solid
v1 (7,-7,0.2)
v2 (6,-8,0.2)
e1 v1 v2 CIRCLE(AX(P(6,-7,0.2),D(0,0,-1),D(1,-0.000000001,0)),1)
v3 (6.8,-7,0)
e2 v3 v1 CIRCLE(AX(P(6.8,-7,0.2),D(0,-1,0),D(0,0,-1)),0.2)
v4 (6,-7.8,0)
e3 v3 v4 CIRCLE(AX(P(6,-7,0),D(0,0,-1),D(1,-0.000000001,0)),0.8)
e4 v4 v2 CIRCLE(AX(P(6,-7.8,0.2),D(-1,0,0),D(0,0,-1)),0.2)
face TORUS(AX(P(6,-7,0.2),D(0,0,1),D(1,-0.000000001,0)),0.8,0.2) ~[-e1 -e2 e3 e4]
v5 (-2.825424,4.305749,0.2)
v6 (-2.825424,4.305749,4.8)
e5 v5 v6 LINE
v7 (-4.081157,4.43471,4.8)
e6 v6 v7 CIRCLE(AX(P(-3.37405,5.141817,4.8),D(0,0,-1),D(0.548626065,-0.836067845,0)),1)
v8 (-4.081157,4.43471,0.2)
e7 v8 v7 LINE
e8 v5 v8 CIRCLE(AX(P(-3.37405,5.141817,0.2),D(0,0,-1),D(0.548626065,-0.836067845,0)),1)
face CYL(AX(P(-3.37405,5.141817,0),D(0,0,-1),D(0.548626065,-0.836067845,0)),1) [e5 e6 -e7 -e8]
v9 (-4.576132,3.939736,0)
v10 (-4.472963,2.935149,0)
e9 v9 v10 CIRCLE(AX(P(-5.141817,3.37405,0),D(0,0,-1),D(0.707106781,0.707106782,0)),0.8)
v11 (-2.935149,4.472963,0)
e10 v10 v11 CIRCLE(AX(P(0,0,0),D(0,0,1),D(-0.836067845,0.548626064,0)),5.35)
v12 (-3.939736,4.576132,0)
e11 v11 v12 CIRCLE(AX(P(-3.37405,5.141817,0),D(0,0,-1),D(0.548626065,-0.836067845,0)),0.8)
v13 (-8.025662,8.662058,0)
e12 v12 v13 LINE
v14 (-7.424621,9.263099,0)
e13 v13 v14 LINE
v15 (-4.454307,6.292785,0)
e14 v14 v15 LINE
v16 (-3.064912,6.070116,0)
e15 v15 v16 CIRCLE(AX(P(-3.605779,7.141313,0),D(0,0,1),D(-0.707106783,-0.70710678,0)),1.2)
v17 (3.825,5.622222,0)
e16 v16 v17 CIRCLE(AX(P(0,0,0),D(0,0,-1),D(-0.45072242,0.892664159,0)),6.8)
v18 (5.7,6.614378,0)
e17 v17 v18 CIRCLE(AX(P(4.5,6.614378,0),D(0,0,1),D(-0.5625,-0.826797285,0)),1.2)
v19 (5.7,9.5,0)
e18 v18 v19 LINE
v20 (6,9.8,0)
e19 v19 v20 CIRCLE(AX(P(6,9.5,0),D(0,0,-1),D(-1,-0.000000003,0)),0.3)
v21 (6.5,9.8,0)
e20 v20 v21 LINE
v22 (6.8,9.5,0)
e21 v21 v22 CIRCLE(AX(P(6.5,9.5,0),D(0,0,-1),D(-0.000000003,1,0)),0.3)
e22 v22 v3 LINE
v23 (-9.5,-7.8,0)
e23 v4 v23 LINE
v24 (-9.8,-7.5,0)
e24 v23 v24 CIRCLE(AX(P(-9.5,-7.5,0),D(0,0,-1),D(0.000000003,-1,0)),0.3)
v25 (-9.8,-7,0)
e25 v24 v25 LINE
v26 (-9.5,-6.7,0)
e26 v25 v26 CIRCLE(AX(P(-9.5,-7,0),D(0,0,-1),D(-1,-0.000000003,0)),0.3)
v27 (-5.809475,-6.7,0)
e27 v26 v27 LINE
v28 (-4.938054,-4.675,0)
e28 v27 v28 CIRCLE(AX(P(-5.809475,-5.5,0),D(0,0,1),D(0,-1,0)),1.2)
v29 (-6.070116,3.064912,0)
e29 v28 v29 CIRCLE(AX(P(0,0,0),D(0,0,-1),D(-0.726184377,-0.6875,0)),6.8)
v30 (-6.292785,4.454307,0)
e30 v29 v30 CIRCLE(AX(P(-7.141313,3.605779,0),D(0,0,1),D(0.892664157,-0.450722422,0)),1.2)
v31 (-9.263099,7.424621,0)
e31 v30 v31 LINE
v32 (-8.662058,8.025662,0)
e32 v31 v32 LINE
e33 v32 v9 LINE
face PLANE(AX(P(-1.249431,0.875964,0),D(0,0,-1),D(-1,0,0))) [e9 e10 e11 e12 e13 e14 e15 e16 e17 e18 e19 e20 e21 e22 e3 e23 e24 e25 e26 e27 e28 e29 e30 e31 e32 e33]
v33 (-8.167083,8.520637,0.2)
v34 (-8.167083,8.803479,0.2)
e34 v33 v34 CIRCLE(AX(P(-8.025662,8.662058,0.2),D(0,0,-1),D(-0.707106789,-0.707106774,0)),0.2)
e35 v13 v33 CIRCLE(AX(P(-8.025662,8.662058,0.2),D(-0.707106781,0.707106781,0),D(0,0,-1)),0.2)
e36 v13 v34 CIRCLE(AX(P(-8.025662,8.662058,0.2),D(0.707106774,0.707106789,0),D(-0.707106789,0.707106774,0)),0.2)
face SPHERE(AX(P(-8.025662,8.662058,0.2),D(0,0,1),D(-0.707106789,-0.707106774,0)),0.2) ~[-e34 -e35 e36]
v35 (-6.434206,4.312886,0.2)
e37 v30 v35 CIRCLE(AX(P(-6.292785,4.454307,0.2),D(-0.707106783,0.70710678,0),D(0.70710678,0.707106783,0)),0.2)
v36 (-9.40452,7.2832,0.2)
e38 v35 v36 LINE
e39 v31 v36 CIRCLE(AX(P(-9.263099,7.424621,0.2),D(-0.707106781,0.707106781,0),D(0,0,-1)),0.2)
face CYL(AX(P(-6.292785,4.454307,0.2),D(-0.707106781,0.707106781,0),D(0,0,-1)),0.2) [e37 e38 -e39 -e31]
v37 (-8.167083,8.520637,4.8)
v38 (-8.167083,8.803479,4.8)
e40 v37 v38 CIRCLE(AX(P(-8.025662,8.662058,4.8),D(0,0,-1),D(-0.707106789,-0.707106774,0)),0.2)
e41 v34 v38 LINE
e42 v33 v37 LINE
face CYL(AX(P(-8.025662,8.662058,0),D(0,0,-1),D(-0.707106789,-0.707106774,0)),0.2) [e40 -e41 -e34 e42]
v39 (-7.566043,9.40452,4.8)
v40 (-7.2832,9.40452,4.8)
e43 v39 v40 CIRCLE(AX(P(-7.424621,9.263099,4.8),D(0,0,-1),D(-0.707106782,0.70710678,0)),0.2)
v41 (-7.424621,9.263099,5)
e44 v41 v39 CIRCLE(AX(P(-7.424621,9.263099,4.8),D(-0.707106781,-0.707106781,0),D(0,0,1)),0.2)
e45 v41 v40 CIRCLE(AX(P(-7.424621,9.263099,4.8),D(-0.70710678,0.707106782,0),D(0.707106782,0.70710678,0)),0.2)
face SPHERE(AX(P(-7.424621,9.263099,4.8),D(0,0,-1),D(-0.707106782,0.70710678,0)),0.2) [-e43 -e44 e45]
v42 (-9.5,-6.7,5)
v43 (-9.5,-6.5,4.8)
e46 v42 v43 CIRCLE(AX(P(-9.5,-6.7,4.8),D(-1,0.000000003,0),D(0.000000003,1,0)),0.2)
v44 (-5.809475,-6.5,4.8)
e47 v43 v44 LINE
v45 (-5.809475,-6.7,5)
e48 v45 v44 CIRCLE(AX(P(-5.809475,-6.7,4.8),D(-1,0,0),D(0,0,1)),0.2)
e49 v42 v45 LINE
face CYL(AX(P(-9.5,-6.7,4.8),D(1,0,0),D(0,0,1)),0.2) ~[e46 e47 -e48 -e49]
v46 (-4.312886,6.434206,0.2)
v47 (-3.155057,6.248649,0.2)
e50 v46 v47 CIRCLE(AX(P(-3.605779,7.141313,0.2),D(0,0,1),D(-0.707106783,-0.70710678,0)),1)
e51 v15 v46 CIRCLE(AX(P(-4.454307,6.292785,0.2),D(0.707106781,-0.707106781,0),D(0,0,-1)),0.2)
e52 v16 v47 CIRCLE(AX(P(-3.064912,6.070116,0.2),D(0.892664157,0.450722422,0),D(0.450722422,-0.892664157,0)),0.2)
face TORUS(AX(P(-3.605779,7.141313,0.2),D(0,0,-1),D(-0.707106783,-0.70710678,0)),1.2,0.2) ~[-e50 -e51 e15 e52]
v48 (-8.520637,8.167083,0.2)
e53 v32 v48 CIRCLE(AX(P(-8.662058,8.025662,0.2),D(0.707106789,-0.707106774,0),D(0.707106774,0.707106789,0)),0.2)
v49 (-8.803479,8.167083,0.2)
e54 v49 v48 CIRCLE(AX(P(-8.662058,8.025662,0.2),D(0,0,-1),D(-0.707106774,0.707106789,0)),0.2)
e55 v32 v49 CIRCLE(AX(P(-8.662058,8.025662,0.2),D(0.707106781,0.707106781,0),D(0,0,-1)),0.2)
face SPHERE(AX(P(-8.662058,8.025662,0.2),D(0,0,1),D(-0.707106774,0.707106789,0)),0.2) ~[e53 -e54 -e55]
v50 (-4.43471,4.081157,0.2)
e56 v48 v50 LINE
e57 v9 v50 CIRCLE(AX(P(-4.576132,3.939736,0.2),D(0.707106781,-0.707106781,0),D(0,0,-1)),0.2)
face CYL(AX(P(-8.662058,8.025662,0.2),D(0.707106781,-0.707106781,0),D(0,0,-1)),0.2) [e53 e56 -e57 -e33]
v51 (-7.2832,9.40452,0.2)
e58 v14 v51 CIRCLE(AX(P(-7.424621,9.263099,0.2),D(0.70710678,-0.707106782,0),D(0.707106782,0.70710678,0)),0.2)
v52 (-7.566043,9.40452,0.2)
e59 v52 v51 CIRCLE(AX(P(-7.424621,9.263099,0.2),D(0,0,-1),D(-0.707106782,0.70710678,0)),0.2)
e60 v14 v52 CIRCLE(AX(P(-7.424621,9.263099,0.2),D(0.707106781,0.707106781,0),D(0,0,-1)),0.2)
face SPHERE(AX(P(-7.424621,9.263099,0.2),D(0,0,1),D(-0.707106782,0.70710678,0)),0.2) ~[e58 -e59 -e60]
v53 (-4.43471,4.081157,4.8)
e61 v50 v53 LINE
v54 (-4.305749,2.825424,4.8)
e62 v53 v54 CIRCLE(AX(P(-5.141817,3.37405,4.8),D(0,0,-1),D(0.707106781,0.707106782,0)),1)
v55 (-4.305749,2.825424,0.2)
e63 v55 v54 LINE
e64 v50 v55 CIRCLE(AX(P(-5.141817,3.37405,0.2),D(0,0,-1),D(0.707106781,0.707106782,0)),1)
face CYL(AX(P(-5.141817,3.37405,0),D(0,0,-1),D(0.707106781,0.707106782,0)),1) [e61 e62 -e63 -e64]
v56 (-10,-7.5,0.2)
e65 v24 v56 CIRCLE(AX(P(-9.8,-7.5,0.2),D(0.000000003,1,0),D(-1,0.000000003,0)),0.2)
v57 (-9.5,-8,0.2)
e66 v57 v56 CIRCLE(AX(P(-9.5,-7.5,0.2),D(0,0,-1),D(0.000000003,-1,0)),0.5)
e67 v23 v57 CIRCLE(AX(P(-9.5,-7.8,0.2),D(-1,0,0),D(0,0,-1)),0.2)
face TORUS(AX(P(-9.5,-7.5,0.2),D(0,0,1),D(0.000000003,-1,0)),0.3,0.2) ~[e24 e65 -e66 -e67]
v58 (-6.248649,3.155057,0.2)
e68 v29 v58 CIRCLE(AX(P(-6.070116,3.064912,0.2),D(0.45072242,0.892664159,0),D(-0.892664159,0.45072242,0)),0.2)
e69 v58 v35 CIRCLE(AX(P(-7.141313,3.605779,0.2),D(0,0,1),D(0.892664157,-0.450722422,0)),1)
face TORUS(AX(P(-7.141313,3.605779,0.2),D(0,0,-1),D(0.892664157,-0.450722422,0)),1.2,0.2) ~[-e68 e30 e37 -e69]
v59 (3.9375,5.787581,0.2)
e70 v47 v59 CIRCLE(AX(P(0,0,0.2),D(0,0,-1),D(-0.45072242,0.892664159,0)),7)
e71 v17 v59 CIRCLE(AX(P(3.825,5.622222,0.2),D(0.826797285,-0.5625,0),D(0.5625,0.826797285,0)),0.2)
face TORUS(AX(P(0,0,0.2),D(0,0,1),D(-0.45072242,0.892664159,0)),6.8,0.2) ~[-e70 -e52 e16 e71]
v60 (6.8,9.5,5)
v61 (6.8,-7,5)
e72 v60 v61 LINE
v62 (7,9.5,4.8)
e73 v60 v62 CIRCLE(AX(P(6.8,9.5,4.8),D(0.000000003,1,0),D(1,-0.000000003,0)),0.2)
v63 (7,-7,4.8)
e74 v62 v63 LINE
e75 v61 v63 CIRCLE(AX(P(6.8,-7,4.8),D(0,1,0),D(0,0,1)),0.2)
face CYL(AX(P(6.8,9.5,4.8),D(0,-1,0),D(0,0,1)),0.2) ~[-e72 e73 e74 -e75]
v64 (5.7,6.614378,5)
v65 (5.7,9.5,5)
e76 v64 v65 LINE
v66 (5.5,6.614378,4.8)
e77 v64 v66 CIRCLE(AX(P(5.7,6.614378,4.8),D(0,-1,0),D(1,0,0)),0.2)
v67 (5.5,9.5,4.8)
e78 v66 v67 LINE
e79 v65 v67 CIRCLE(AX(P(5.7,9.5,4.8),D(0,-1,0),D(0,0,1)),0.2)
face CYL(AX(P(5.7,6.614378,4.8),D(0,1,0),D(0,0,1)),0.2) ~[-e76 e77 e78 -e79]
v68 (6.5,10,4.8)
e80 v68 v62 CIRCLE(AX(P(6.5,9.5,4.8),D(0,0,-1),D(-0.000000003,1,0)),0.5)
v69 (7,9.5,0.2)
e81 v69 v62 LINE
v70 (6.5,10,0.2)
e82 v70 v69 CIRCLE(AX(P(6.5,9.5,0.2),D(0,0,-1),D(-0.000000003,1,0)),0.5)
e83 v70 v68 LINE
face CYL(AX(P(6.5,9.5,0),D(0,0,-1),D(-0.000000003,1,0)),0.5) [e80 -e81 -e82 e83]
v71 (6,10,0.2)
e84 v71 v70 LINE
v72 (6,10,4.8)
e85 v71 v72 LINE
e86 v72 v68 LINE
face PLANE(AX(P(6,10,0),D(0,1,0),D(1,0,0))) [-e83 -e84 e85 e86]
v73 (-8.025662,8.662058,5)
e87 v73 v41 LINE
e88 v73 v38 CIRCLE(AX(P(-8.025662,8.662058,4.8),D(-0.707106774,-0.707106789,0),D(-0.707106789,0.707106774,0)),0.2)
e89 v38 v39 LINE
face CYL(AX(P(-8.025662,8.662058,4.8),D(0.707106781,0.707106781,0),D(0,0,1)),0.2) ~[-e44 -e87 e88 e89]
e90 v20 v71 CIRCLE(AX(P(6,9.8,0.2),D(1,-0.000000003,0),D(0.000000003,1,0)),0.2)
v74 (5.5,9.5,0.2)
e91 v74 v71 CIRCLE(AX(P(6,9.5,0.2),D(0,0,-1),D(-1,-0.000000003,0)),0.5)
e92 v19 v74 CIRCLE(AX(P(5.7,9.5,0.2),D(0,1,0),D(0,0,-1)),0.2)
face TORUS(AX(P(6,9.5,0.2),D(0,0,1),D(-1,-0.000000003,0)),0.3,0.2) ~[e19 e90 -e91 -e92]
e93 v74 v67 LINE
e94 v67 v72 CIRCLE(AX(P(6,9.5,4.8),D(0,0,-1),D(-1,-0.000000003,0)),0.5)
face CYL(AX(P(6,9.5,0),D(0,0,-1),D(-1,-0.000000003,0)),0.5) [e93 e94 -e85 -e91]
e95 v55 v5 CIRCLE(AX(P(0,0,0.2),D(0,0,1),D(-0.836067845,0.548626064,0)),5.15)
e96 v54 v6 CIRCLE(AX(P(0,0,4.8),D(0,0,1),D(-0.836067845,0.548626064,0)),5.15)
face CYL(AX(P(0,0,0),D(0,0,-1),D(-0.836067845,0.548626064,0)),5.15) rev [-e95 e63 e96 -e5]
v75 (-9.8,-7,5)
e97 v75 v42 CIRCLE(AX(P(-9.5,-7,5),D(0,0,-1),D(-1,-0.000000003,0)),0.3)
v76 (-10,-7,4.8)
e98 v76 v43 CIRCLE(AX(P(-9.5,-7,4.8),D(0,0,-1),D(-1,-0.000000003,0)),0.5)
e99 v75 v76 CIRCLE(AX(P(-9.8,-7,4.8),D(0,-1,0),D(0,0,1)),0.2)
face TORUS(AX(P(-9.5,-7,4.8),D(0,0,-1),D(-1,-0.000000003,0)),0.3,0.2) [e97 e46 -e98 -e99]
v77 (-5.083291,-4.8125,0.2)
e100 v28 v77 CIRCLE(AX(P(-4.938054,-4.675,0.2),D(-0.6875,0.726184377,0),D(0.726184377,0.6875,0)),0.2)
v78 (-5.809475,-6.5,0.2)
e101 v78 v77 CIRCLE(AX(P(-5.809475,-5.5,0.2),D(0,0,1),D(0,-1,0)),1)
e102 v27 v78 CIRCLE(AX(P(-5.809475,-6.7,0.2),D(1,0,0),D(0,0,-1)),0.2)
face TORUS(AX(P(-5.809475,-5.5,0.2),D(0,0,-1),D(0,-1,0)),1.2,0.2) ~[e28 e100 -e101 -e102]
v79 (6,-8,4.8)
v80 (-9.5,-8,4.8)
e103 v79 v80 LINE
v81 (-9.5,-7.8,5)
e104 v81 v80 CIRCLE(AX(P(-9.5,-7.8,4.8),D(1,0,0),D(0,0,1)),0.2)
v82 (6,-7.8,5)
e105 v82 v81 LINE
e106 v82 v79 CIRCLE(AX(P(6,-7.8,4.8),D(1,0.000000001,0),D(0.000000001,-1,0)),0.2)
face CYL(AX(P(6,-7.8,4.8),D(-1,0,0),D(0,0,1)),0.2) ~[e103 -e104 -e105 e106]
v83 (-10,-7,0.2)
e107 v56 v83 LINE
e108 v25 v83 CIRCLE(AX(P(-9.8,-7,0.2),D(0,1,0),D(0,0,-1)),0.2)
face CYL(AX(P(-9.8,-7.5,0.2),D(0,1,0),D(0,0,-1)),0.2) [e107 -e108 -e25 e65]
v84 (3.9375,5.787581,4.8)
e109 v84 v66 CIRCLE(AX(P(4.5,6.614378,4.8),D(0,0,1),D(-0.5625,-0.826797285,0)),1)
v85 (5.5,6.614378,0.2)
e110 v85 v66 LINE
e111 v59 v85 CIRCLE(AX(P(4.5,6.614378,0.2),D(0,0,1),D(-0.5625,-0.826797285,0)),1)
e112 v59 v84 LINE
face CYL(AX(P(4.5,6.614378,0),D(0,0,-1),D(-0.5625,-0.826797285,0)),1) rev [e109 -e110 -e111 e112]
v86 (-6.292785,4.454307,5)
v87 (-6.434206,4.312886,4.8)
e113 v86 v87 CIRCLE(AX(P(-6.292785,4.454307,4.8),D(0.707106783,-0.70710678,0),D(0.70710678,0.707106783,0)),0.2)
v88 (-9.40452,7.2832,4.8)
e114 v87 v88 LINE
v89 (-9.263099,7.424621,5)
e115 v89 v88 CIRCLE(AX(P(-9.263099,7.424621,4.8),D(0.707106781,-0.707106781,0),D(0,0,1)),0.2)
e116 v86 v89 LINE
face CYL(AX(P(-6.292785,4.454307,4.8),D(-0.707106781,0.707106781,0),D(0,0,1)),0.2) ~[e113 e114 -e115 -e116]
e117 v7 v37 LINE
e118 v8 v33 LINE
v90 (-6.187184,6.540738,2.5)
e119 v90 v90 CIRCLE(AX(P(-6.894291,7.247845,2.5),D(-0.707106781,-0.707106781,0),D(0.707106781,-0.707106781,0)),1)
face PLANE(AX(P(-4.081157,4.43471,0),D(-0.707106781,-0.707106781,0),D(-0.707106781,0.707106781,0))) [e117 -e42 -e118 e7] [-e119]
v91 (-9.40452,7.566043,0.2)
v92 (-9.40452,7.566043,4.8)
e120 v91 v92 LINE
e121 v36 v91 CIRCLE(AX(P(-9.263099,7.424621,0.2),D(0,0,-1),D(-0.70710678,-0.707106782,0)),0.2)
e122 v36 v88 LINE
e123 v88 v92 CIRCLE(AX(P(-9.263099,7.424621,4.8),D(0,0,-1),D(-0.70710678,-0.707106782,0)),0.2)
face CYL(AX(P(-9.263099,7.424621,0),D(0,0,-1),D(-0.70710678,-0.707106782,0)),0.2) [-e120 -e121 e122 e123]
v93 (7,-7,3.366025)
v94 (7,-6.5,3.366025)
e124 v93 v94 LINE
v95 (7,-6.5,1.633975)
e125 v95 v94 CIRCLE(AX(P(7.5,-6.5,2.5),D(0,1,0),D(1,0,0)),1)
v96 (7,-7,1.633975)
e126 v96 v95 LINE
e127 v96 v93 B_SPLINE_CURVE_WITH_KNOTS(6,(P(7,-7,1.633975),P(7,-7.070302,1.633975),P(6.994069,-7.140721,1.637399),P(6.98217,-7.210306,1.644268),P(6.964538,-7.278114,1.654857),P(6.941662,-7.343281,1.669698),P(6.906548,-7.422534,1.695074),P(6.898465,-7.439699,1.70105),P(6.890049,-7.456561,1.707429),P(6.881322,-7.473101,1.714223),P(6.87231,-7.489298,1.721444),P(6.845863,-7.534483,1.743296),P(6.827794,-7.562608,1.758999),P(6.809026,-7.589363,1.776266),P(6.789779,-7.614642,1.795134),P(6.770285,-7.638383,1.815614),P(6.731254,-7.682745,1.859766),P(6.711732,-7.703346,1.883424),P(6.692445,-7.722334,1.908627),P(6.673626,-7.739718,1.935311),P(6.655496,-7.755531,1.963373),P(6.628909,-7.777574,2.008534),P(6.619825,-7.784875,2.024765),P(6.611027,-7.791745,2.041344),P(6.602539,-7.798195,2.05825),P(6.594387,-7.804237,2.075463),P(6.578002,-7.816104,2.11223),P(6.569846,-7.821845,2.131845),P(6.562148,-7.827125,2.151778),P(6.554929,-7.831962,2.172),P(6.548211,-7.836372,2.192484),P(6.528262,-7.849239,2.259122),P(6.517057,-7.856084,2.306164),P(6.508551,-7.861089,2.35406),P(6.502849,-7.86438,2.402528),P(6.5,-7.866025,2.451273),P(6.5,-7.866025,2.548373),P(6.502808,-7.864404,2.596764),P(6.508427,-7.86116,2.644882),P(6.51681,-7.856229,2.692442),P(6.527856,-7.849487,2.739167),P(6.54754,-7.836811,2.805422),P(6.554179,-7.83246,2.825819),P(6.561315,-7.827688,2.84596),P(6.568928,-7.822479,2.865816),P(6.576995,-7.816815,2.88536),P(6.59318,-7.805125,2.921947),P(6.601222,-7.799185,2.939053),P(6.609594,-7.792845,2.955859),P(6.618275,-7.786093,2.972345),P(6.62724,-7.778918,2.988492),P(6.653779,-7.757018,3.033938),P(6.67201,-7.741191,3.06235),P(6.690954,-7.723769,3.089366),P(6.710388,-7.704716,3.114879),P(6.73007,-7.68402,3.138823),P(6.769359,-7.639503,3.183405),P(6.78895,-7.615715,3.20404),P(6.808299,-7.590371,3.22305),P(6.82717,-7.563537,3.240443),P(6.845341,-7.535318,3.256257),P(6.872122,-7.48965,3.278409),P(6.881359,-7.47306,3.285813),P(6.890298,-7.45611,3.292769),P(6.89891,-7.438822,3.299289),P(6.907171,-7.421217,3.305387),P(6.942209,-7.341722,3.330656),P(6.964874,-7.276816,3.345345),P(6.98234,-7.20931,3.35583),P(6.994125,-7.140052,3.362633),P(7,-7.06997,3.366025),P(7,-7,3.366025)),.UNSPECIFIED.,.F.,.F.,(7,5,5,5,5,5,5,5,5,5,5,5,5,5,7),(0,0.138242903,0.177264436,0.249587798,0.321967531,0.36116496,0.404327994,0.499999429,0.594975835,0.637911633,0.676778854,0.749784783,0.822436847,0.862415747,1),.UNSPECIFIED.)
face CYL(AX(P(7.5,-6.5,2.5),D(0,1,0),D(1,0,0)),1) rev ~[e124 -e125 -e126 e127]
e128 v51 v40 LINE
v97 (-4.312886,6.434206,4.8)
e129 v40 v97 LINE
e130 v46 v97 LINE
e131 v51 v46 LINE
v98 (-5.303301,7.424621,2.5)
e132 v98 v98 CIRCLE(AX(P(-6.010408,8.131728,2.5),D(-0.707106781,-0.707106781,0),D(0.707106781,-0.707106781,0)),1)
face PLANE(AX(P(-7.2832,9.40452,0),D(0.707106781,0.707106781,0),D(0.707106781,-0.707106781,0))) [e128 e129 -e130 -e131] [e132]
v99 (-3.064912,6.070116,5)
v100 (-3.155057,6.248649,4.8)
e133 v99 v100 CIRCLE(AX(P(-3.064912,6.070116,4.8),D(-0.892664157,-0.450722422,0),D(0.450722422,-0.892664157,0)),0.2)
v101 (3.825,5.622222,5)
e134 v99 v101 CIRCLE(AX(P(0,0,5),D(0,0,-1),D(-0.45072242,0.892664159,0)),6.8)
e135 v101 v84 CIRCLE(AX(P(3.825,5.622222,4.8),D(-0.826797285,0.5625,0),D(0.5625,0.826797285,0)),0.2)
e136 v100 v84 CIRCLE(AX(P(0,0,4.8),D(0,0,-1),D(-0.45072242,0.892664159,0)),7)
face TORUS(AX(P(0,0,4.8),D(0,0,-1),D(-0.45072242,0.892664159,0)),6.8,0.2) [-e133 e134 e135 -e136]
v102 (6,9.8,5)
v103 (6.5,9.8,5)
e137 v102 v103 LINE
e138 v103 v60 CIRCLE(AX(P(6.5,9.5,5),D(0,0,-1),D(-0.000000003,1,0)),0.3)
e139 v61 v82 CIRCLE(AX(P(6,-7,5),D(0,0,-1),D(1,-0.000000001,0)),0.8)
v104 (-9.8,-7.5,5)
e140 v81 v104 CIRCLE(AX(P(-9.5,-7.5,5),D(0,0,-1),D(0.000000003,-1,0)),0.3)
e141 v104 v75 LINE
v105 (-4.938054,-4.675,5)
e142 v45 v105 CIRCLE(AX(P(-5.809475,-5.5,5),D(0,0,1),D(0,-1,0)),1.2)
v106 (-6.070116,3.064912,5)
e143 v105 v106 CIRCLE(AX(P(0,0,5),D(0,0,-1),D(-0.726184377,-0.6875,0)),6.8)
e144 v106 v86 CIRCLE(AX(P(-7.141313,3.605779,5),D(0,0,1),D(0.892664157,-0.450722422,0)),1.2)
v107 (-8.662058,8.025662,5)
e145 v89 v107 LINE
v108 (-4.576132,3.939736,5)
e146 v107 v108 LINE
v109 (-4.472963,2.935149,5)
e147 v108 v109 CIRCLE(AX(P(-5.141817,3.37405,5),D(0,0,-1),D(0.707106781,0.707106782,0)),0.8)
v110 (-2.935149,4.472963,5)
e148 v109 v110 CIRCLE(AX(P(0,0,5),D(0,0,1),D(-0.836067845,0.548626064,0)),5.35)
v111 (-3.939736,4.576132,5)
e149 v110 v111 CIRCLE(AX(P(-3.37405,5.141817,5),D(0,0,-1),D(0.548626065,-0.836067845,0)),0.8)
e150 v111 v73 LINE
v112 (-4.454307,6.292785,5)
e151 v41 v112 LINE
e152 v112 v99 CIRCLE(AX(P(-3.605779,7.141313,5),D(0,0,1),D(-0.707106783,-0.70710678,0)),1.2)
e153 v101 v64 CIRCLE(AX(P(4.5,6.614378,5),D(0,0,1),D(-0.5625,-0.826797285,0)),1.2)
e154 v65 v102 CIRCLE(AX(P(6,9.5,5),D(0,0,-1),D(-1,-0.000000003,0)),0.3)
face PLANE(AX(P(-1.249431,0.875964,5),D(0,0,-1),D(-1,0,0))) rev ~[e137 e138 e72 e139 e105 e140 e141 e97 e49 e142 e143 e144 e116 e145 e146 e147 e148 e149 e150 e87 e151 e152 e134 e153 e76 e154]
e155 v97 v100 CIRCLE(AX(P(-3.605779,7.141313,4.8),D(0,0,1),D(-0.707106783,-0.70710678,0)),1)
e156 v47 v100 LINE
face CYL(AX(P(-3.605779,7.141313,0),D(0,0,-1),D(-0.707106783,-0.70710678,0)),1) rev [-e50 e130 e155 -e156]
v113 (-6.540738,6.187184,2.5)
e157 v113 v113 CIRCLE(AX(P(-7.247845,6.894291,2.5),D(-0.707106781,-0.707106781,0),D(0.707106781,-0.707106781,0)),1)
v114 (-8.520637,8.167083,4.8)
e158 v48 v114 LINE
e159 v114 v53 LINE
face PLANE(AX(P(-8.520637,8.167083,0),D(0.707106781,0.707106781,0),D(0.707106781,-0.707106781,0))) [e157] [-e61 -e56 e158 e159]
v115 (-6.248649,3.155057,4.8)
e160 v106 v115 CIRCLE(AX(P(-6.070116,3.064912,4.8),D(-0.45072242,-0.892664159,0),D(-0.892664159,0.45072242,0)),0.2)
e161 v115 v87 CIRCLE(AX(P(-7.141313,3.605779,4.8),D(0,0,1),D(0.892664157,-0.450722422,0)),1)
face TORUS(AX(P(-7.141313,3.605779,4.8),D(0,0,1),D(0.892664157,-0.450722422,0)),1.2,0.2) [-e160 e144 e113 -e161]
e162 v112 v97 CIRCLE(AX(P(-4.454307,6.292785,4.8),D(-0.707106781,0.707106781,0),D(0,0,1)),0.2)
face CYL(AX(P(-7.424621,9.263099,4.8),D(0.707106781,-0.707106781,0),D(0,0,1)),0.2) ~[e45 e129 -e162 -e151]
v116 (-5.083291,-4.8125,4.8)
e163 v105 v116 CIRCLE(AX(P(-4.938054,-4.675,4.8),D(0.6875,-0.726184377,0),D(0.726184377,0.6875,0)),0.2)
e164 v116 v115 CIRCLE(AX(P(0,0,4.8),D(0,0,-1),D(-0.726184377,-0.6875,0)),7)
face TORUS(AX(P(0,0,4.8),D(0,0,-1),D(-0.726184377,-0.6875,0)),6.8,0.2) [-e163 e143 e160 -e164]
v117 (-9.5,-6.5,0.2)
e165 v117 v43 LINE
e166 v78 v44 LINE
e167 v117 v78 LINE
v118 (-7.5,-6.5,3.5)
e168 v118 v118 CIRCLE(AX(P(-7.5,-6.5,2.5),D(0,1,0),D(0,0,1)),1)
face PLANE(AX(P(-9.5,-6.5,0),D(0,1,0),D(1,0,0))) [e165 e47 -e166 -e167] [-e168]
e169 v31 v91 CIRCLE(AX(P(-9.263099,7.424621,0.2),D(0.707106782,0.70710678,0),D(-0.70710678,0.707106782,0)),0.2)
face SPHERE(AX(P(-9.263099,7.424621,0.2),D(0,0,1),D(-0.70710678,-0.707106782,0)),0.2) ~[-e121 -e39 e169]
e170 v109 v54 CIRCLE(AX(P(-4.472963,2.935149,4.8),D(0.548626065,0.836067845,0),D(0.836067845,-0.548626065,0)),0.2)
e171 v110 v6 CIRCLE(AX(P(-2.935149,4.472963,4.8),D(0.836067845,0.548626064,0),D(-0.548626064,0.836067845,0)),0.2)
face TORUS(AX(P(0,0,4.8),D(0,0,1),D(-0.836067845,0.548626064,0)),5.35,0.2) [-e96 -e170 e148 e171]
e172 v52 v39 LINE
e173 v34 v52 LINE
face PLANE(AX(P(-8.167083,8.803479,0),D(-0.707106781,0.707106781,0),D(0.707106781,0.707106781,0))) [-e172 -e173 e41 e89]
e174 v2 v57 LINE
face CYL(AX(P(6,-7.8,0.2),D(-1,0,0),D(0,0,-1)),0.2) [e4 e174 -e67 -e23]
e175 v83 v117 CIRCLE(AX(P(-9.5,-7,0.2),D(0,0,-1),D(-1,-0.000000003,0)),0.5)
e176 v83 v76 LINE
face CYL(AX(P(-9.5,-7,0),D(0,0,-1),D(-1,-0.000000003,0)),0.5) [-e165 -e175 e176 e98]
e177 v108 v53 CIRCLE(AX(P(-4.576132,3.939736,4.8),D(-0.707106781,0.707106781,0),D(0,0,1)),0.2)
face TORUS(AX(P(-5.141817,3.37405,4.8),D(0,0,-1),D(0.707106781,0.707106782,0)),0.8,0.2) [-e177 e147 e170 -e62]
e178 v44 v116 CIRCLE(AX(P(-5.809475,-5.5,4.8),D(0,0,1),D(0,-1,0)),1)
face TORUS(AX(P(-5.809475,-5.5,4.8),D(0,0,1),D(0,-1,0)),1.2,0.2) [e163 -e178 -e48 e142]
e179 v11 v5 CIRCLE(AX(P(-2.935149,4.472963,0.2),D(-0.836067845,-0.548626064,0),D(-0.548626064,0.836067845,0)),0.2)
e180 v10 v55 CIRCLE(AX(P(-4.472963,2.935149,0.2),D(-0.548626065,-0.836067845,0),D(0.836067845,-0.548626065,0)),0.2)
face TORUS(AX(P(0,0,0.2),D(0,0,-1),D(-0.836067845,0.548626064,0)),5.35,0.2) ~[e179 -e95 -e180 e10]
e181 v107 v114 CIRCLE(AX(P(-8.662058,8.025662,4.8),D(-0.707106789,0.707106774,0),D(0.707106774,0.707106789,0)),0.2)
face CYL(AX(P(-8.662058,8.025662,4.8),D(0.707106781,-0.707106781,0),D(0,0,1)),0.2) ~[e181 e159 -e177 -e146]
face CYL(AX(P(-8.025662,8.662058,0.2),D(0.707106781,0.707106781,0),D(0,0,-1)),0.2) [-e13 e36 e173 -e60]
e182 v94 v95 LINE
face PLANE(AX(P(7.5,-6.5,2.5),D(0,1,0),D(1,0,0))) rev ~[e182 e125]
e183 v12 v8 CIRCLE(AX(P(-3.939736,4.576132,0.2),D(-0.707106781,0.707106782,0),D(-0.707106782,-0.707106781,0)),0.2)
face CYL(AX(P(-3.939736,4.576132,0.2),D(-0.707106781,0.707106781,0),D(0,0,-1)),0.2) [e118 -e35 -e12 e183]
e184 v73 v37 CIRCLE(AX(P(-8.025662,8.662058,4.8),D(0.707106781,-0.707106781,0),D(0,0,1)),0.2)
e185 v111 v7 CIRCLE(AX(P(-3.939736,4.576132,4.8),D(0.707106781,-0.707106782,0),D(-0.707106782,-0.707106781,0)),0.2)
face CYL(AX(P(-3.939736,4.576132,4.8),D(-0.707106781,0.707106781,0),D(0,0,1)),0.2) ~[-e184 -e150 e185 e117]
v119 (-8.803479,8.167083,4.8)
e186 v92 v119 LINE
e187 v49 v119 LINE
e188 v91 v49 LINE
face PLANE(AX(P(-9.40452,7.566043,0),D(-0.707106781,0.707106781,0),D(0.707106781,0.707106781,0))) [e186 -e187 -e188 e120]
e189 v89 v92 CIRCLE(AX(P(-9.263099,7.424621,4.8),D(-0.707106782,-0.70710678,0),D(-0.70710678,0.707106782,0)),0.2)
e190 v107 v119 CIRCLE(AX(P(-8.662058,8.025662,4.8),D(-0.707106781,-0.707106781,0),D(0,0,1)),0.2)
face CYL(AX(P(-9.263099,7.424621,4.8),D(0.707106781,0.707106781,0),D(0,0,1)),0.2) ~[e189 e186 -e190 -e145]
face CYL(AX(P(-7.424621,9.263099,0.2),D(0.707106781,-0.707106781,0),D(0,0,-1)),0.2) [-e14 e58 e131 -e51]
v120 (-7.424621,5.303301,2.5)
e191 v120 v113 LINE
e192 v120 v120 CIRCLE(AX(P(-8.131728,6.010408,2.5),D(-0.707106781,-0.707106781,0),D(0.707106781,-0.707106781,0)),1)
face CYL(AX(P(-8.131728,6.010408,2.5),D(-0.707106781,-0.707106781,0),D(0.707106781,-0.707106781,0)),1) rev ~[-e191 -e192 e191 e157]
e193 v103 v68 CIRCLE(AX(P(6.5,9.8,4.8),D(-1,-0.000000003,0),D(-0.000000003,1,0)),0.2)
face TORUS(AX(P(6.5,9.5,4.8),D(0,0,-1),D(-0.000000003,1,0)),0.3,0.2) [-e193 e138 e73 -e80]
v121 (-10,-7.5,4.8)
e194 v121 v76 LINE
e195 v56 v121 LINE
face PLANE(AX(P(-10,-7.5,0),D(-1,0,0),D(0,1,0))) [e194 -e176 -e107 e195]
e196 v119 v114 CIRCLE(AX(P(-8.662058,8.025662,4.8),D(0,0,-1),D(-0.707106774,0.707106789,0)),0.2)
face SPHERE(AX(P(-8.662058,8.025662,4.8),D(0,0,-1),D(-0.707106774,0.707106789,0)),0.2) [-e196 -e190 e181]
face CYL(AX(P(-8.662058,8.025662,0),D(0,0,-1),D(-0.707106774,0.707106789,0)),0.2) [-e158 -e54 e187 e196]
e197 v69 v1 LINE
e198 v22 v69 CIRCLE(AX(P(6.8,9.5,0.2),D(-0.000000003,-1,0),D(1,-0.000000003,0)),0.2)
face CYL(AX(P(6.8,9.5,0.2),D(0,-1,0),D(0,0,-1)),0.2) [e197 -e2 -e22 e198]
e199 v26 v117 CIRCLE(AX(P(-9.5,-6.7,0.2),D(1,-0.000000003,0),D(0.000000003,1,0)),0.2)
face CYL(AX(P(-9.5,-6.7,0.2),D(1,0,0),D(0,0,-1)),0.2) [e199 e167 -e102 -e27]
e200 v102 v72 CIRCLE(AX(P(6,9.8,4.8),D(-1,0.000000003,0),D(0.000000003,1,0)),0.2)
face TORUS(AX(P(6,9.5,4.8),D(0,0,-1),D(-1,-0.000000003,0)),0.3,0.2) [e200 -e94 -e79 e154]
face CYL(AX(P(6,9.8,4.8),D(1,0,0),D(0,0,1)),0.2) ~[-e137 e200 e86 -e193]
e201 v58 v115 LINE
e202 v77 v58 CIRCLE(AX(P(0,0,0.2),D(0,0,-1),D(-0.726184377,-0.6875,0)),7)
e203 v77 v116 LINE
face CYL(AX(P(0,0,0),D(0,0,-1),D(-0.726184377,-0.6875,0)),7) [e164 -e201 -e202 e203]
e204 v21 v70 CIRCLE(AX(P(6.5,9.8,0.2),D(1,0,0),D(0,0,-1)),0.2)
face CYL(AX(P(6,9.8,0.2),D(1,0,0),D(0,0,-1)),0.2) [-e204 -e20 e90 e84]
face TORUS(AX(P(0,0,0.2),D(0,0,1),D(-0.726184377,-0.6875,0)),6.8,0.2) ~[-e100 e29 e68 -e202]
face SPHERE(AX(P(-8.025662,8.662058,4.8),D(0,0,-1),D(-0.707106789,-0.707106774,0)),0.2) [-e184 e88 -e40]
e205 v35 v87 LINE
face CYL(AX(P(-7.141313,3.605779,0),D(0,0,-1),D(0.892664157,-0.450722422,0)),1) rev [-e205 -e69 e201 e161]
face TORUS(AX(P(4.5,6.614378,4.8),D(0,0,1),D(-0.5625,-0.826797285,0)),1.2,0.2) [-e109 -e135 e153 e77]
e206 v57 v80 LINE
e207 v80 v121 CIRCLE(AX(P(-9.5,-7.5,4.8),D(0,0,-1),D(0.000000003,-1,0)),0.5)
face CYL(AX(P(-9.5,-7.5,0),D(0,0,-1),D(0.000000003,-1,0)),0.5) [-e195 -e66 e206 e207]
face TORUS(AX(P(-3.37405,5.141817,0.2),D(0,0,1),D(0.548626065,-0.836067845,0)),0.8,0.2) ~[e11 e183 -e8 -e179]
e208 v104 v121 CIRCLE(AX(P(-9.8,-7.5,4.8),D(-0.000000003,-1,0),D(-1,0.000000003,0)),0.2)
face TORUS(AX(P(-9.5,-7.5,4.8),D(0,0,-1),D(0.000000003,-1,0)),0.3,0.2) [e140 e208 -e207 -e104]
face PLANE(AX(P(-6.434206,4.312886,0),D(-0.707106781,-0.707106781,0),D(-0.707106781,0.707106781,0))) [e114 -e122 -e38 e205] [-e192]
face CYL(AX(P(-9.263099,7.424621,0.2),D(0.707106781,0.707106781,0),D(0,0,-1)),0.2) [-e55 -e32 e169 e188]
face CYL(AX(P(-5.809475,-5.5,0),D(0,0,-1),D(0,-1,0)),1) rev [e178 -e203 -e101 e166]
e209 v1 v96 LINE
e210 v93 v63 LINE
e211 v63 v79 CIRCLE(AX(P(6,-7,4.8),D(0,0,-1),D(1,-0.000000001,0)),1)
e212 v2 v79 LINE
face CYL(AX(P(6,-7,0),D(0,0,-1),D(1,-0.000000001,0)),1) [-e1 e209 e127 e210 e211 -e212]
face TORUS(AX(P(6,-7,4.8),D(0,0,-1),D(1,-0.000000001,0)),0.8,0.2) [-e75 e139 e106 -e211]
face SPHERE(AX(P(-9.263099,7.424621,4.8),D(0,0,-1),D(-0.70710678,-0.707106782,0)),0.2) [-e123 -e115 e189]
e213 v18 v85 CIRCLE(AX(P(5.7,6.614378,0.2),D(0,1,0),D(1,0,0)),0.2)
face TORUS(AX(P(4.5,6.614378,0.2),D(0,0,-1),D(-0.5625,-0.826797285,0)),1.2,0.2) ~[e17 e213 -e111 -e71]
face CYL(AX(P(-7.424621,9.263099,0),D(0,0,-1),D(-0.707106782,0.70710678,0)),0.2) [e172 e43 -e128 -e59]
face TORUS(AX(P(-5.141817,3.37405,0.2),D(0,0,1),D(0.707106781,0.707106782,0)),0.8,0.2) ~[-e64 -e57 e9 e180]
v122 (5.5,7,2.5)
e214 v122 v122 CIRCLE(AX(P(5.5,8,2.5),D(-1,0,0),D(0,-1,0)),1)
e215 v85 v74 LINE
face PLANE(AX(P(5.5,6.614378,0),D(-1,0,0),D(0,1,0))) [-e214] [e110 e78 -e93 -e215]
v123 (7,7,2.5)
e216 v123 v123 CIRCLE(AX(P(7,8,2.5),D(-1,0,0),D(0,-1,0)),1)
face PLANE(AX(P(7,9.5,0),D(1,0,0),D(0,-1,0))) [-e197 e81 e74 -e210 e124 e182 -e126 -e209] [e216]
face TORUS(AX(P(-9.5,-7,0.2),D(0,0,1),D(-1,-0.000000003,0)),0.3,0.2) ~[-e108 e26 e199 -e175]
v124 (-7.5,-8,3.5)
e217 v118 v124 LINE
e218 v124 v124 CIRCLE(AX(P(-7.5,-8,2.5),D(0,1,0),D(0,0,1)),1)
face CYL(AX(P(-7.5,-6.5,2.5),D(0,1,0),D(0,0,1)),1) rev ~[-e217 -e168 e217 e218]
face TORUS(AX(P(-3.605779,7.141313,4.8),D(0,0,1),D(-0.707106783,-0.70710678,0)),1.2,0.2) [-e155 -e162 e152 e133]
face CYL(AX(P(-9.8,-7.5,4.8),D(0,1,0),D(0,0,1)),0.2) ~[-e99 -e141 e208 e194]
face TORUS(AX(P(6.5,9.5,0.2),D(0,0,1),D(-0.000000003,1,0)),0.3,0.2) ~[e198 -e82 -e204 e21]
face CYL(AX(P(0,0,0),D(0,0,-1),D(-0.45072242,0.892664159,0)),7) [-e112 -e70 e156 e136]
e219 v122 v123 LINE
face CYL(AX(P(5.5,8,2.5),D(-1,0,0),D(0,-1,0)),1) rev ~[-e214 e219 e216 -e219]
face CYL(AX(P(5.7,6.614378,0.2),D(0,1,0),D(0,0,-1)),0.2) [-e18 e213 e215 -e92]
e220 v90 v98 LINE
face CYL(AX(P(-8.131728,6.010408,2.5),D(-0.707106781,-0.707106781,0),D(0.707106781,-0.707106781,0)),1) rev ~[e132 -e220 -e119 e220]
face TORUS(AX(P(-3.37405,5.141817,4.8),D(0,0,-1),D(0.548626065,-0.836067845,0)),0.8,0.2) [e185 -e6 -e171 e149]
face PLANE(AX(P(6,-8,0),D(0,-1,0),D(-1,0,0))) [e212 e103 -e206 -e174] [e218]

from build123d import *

# Parameters (mm, degrees)
EXTRUDE_1_DEPTH     = 5
CUT_EXTRUDE_1_REACH = 21.931
SKETCH_3_R          = 1
FILLET_2_R          = 0.2
CUT_EXTRUDE_2_REACH = 21.112
SKETCH_4_R          = 1
SKETCH_5_R          = 1
CUT_EXTRUDE_3_DEPTH = 10


with BuildPart() as part:
    # 草图1 → 凸台-拉伸1 (new body)
    with BuildSketch(Plane.XY):
        with BuildLine():
            Line((-9.5, -6.5), (-5.809475019, -6.5))
            ThreePointArc((-5.809475019, -6.5), (-4.890916366, -5.895284708), (-5.083290642, -4.8125))
            ThreePointArc((-5.083290642, -4.8125), (-6.926305331, -1.013061924), (-6.24864911, 3.155056942))
            ThreePointArc((-6.24864911, 3.155056942), (-6.153913207, 3.764023225), (-6.434206487, 4.312886143))
            Line((-6.434206487, 4.312886143), (-9.40452019, 7.283199846))
            ThreePointArc((-9.40452019, 7.283199846), (-9.463098834, 7.424621202), (-9.40452019, 7.566042559))
            Line((-9.40452019, 7.566042559), (-8.803479426, 8.167083323))
            ThreePointArc((-8.803479426, 8.167083323), (-8.66205807, 8.225661966), (-8.520636713, 8.167083323))
            Line((-8.520636713, 8.167083323), (-4.434710467, 4.081157076))
            ThreePointArc((-4.434710467, 4.081157076), (-4.147049322, 3.476210822), (-4.305749403, 2.825424231))
            ThreePointArc((-4.305749403, 2.825424231), (3.641599923, -3.641599923), (-2.825424231, 4.305749403))
            ThreePointArc((-2.825424231, 4.305749403), (-3.476210822, 4.147049322), (-4.081157076, 4.434710467))
            Line((-4.081157076, 4.434710467), (-8.167083323, 8.520636713))
            ThreePointArc((-8.167083323, 8.520636713), (-8.225661966, 8.66205807), (-8.167083323, 8.803479426))
            Line((-8.167083323, 8.803479426), (-7.566042559, 9.40452019))
            ThreePointArc((-7.566042559, 9.40452019), (-7.424621202, 9.463098834), (-7.283199846, 9.40452019))
            Line((-7.283199846, 9.40452019), (-4.312886143, 6.434206487))
            ThreePointArc((-4.312886143, 6.434206487), (-3.764023225, 6.153913207), (-3.155056942, 6.24864911))
            ThreePointArc((-3.155056942, 6.24864911), (0.454092762, 6.985255884), (3.9375, 5.787580993))
            ThreePointArc((3.9375, 5.787580993), (4.967707173, 5.730494801), (5.5, 6.614378278))
            Line((5.5, 6.614378278), (5.5, 9.5))
            ThreePointArc((5.5, 9.5), (5.646446609, 9.853553391), (6, 10))
            Line((6, 10), (6.5, 10))
            ThreePointArc((6.5, 10), (6.853553391, 9.853553391), (7, 9.5))
            Line((7, 9.5), (7, -7))
            ThreePointArc((7, -7), (6.707106781, -7.707106781), (6, -8))
            Line((6, -8), (-9.5, -8))
            ThreePointArc((-9.5, -8), (-9.853553391, -7.853553391), (-10, -7.5))
            Line((-10, -7.5), (-10, -7))
            ThreePointArc((-10, -7), (-9.853553391, -6.646446609), (-9.5, -6.5))
        make_face()
    extrude(amount=EXTRUDE_1_DEPTH)

    # 草图3 → 切除-拉伸1 (cut, up to next)
    with BuildSketch(Plane(origin=(0, -6.5, 0), x_dir=(1, 0, 0), z_dir=(0, 1, 0)), mode=Mode.PRIVATE) as cut_extrude_1_sk1:
        with Locations(Location((-7.5, -2.5, 0), (0, 0, 270))):
            Circle(SKETCH_3_R)
    cut_extrude_1_tool1 = extrude(cut_extrude_1_sk1.sketch, amount=-CUT_EXTRUDE_1_REACH, mode=Mode.PRIVATE) & part.part
    # 草图3 → 切除-拉伸1 (cut, up to next)
    with BuildSketch(Plane(origin=(0, -6.5, 0), x_dir=(1, 0, 0), z_dir=(0, 1, 0)), mode=Mode.PRIVATE) as cut_extrude_1_sk2:
        with Locations((7.5, -2.5)):
            Circle(SKETCH_3_R)
    cut_extrude_1_tool2 = extrude(cut_extrude_1_sk2.sketch, amount=-CUT_EXTRUDE_1_REACH, mode=Mode.PRIVATE) & part.part
    add(cut_extrude_1_tool1.solids().sort_by_distance((-7.5, -6.5, 2.5))[0], mode=Mode.SUBTRACT)
    add(cut_extrude_1_tool2.solids().sort_by_distance((7.5, -6.5, 2.5))[0], mode=Mode.SUBTRACT)

    # 圆角2
    fillet_2_edges = [part.edges().sort_by_distance(p)[0] for p in [
        (6.853553391, 9.853553391, 5),
        (6.25, 10, 5),
        (5.646446609, 9.853553391, 5),
        (5.5, 8.057189139, 5),
        (4.967707173, 5.730494801, 5),
        (0.454092762, 6.985255884, 5),
        (-1.75, -8, 0),
        (-9.853553391, -7.853553391, 0),
        (-10, -7.25, 0),
        (-9.853553391, -6.646446609, 0),
        (-7.65473751, -6.5, 0),
        (-4.890916366, -5.895284708, 0),
        (-6.926305331, -1.013061924, 0),
        (-3.764023225, 6.153913207, 5),
        (-6.153913207, 3.764023225, 0),
        (-7.919363338, 5.798042995, 0),
        (-9.463098834, 7.424621202, 0),
        (-9.103999808, 7.866562941, 0),
        (-8.66205807, 8.225661966, 0),
        (-6.47767359, 6.124120199, 0),
        (-4.147049322, 3.476210822, 0),
        (3.641599923, -3.641599923, 0),
        (-5.798042995, 7.919363338, 5),
        (-3.476210822, 4.147049322, 0),
        (-6.124120199, 6.47767359, 0),
        (-8.225661966, 8.66205807, 0),
        (-7.866562941, 9.103999808, 0),
        (-7.424621202, 9.463098834, 0),
        (-5.798042995, 7.919363338, 0),
        (-3.764023225, 6.153913207, 0),
        (-7.424621202, 9.463098834, 5),
        (0.454092762, 6.985255884, 0),
        (4.967707173, 5.730494801, 0),
        (5.5, 8.057189139, 0),
        (5.646446609, 9.853553391, 0),
        (6.25, 10, 0),
        (6.853553391, 9.853553391, 0),
        (7, 1.25, 0),
        (6.707106781, -7.707106781, 0),
        (-7.866562941, 9.103999808, 5),
        (6.707106781, -7.707106781, 5),
        (-8.225661966, 8.66205807, 5),
        (-6.124120199, 6.47767359, 5),
        (-3.476210822, 4.147049322, 5),
        (3.641599923, -3.641599923, 5),
        (-4.147049322, 3.476210822, 5),
        (-6.47767359, 6.124120199, 5),
        (-8.66205807, 8.225661966, 5),
        (-9.103999808, 7.866562941, 5),
        (-9.463098834, 7.424621202, 5),
        (-7.919363338, 5.798042995, 5),
        (7, 1.25, 5),
        (-6.153913207, 3.764023225, 5),
        (-6.926305331, -1.013061924, 5),
        (-4.890916366, -5.895284708, 5),
        (-7.65473751, -6.5, 5),
        (-9.853553391, -6.646446609, 5),
        (-10, -7.25, 5),
        (-9.853553391, -7.853553391, 5),
        (-1.75, -8, 5),
    ]]
    fillet(fillet_2_edges, radius=FILLET_2_R)

    # 草图4 → 切除-拉伸2 (cut, up to next)
    with BuildSketch(Plane.ZY.offset(-5.5), mode=Mode.PRIVATE) as cut_extrude_2_sk1:
        with Locations(Location((2.5, 8, 0), (0, 0, 270))):
            Circle(SKETCH_4_R)
    cut_extrude_2_tool1 = extrude(cut_extrude_2_sk1.sketch, amount=-CUT_EXTRUDE_2_REACH, mode=Mode.PRIVATE) & part.part
    add(cut_extrude_2_tool1.solids().sort_by_distance((5.5, 8, 2.5))[0], mode=Mode.SUBTRACT)

    # 草图5 → 切除-拉伸3 (cut)
    with BuildSketch(Plane(origin=(-1.060660172, -1.060660172, 0), x_dir=(0, 0, 1), z_dir=(-0.7071067811865477, -0.7071067811865475, 0))):
        with Locations(Location((2.5, 10, 0), (0, 0, 270))):
            Circle(SKETCH_5_R)
    extrude(amount=-CUT_EXTRUDE_3_DEPTH, mode=Mode.SUBTRACT)


solid = part.part
